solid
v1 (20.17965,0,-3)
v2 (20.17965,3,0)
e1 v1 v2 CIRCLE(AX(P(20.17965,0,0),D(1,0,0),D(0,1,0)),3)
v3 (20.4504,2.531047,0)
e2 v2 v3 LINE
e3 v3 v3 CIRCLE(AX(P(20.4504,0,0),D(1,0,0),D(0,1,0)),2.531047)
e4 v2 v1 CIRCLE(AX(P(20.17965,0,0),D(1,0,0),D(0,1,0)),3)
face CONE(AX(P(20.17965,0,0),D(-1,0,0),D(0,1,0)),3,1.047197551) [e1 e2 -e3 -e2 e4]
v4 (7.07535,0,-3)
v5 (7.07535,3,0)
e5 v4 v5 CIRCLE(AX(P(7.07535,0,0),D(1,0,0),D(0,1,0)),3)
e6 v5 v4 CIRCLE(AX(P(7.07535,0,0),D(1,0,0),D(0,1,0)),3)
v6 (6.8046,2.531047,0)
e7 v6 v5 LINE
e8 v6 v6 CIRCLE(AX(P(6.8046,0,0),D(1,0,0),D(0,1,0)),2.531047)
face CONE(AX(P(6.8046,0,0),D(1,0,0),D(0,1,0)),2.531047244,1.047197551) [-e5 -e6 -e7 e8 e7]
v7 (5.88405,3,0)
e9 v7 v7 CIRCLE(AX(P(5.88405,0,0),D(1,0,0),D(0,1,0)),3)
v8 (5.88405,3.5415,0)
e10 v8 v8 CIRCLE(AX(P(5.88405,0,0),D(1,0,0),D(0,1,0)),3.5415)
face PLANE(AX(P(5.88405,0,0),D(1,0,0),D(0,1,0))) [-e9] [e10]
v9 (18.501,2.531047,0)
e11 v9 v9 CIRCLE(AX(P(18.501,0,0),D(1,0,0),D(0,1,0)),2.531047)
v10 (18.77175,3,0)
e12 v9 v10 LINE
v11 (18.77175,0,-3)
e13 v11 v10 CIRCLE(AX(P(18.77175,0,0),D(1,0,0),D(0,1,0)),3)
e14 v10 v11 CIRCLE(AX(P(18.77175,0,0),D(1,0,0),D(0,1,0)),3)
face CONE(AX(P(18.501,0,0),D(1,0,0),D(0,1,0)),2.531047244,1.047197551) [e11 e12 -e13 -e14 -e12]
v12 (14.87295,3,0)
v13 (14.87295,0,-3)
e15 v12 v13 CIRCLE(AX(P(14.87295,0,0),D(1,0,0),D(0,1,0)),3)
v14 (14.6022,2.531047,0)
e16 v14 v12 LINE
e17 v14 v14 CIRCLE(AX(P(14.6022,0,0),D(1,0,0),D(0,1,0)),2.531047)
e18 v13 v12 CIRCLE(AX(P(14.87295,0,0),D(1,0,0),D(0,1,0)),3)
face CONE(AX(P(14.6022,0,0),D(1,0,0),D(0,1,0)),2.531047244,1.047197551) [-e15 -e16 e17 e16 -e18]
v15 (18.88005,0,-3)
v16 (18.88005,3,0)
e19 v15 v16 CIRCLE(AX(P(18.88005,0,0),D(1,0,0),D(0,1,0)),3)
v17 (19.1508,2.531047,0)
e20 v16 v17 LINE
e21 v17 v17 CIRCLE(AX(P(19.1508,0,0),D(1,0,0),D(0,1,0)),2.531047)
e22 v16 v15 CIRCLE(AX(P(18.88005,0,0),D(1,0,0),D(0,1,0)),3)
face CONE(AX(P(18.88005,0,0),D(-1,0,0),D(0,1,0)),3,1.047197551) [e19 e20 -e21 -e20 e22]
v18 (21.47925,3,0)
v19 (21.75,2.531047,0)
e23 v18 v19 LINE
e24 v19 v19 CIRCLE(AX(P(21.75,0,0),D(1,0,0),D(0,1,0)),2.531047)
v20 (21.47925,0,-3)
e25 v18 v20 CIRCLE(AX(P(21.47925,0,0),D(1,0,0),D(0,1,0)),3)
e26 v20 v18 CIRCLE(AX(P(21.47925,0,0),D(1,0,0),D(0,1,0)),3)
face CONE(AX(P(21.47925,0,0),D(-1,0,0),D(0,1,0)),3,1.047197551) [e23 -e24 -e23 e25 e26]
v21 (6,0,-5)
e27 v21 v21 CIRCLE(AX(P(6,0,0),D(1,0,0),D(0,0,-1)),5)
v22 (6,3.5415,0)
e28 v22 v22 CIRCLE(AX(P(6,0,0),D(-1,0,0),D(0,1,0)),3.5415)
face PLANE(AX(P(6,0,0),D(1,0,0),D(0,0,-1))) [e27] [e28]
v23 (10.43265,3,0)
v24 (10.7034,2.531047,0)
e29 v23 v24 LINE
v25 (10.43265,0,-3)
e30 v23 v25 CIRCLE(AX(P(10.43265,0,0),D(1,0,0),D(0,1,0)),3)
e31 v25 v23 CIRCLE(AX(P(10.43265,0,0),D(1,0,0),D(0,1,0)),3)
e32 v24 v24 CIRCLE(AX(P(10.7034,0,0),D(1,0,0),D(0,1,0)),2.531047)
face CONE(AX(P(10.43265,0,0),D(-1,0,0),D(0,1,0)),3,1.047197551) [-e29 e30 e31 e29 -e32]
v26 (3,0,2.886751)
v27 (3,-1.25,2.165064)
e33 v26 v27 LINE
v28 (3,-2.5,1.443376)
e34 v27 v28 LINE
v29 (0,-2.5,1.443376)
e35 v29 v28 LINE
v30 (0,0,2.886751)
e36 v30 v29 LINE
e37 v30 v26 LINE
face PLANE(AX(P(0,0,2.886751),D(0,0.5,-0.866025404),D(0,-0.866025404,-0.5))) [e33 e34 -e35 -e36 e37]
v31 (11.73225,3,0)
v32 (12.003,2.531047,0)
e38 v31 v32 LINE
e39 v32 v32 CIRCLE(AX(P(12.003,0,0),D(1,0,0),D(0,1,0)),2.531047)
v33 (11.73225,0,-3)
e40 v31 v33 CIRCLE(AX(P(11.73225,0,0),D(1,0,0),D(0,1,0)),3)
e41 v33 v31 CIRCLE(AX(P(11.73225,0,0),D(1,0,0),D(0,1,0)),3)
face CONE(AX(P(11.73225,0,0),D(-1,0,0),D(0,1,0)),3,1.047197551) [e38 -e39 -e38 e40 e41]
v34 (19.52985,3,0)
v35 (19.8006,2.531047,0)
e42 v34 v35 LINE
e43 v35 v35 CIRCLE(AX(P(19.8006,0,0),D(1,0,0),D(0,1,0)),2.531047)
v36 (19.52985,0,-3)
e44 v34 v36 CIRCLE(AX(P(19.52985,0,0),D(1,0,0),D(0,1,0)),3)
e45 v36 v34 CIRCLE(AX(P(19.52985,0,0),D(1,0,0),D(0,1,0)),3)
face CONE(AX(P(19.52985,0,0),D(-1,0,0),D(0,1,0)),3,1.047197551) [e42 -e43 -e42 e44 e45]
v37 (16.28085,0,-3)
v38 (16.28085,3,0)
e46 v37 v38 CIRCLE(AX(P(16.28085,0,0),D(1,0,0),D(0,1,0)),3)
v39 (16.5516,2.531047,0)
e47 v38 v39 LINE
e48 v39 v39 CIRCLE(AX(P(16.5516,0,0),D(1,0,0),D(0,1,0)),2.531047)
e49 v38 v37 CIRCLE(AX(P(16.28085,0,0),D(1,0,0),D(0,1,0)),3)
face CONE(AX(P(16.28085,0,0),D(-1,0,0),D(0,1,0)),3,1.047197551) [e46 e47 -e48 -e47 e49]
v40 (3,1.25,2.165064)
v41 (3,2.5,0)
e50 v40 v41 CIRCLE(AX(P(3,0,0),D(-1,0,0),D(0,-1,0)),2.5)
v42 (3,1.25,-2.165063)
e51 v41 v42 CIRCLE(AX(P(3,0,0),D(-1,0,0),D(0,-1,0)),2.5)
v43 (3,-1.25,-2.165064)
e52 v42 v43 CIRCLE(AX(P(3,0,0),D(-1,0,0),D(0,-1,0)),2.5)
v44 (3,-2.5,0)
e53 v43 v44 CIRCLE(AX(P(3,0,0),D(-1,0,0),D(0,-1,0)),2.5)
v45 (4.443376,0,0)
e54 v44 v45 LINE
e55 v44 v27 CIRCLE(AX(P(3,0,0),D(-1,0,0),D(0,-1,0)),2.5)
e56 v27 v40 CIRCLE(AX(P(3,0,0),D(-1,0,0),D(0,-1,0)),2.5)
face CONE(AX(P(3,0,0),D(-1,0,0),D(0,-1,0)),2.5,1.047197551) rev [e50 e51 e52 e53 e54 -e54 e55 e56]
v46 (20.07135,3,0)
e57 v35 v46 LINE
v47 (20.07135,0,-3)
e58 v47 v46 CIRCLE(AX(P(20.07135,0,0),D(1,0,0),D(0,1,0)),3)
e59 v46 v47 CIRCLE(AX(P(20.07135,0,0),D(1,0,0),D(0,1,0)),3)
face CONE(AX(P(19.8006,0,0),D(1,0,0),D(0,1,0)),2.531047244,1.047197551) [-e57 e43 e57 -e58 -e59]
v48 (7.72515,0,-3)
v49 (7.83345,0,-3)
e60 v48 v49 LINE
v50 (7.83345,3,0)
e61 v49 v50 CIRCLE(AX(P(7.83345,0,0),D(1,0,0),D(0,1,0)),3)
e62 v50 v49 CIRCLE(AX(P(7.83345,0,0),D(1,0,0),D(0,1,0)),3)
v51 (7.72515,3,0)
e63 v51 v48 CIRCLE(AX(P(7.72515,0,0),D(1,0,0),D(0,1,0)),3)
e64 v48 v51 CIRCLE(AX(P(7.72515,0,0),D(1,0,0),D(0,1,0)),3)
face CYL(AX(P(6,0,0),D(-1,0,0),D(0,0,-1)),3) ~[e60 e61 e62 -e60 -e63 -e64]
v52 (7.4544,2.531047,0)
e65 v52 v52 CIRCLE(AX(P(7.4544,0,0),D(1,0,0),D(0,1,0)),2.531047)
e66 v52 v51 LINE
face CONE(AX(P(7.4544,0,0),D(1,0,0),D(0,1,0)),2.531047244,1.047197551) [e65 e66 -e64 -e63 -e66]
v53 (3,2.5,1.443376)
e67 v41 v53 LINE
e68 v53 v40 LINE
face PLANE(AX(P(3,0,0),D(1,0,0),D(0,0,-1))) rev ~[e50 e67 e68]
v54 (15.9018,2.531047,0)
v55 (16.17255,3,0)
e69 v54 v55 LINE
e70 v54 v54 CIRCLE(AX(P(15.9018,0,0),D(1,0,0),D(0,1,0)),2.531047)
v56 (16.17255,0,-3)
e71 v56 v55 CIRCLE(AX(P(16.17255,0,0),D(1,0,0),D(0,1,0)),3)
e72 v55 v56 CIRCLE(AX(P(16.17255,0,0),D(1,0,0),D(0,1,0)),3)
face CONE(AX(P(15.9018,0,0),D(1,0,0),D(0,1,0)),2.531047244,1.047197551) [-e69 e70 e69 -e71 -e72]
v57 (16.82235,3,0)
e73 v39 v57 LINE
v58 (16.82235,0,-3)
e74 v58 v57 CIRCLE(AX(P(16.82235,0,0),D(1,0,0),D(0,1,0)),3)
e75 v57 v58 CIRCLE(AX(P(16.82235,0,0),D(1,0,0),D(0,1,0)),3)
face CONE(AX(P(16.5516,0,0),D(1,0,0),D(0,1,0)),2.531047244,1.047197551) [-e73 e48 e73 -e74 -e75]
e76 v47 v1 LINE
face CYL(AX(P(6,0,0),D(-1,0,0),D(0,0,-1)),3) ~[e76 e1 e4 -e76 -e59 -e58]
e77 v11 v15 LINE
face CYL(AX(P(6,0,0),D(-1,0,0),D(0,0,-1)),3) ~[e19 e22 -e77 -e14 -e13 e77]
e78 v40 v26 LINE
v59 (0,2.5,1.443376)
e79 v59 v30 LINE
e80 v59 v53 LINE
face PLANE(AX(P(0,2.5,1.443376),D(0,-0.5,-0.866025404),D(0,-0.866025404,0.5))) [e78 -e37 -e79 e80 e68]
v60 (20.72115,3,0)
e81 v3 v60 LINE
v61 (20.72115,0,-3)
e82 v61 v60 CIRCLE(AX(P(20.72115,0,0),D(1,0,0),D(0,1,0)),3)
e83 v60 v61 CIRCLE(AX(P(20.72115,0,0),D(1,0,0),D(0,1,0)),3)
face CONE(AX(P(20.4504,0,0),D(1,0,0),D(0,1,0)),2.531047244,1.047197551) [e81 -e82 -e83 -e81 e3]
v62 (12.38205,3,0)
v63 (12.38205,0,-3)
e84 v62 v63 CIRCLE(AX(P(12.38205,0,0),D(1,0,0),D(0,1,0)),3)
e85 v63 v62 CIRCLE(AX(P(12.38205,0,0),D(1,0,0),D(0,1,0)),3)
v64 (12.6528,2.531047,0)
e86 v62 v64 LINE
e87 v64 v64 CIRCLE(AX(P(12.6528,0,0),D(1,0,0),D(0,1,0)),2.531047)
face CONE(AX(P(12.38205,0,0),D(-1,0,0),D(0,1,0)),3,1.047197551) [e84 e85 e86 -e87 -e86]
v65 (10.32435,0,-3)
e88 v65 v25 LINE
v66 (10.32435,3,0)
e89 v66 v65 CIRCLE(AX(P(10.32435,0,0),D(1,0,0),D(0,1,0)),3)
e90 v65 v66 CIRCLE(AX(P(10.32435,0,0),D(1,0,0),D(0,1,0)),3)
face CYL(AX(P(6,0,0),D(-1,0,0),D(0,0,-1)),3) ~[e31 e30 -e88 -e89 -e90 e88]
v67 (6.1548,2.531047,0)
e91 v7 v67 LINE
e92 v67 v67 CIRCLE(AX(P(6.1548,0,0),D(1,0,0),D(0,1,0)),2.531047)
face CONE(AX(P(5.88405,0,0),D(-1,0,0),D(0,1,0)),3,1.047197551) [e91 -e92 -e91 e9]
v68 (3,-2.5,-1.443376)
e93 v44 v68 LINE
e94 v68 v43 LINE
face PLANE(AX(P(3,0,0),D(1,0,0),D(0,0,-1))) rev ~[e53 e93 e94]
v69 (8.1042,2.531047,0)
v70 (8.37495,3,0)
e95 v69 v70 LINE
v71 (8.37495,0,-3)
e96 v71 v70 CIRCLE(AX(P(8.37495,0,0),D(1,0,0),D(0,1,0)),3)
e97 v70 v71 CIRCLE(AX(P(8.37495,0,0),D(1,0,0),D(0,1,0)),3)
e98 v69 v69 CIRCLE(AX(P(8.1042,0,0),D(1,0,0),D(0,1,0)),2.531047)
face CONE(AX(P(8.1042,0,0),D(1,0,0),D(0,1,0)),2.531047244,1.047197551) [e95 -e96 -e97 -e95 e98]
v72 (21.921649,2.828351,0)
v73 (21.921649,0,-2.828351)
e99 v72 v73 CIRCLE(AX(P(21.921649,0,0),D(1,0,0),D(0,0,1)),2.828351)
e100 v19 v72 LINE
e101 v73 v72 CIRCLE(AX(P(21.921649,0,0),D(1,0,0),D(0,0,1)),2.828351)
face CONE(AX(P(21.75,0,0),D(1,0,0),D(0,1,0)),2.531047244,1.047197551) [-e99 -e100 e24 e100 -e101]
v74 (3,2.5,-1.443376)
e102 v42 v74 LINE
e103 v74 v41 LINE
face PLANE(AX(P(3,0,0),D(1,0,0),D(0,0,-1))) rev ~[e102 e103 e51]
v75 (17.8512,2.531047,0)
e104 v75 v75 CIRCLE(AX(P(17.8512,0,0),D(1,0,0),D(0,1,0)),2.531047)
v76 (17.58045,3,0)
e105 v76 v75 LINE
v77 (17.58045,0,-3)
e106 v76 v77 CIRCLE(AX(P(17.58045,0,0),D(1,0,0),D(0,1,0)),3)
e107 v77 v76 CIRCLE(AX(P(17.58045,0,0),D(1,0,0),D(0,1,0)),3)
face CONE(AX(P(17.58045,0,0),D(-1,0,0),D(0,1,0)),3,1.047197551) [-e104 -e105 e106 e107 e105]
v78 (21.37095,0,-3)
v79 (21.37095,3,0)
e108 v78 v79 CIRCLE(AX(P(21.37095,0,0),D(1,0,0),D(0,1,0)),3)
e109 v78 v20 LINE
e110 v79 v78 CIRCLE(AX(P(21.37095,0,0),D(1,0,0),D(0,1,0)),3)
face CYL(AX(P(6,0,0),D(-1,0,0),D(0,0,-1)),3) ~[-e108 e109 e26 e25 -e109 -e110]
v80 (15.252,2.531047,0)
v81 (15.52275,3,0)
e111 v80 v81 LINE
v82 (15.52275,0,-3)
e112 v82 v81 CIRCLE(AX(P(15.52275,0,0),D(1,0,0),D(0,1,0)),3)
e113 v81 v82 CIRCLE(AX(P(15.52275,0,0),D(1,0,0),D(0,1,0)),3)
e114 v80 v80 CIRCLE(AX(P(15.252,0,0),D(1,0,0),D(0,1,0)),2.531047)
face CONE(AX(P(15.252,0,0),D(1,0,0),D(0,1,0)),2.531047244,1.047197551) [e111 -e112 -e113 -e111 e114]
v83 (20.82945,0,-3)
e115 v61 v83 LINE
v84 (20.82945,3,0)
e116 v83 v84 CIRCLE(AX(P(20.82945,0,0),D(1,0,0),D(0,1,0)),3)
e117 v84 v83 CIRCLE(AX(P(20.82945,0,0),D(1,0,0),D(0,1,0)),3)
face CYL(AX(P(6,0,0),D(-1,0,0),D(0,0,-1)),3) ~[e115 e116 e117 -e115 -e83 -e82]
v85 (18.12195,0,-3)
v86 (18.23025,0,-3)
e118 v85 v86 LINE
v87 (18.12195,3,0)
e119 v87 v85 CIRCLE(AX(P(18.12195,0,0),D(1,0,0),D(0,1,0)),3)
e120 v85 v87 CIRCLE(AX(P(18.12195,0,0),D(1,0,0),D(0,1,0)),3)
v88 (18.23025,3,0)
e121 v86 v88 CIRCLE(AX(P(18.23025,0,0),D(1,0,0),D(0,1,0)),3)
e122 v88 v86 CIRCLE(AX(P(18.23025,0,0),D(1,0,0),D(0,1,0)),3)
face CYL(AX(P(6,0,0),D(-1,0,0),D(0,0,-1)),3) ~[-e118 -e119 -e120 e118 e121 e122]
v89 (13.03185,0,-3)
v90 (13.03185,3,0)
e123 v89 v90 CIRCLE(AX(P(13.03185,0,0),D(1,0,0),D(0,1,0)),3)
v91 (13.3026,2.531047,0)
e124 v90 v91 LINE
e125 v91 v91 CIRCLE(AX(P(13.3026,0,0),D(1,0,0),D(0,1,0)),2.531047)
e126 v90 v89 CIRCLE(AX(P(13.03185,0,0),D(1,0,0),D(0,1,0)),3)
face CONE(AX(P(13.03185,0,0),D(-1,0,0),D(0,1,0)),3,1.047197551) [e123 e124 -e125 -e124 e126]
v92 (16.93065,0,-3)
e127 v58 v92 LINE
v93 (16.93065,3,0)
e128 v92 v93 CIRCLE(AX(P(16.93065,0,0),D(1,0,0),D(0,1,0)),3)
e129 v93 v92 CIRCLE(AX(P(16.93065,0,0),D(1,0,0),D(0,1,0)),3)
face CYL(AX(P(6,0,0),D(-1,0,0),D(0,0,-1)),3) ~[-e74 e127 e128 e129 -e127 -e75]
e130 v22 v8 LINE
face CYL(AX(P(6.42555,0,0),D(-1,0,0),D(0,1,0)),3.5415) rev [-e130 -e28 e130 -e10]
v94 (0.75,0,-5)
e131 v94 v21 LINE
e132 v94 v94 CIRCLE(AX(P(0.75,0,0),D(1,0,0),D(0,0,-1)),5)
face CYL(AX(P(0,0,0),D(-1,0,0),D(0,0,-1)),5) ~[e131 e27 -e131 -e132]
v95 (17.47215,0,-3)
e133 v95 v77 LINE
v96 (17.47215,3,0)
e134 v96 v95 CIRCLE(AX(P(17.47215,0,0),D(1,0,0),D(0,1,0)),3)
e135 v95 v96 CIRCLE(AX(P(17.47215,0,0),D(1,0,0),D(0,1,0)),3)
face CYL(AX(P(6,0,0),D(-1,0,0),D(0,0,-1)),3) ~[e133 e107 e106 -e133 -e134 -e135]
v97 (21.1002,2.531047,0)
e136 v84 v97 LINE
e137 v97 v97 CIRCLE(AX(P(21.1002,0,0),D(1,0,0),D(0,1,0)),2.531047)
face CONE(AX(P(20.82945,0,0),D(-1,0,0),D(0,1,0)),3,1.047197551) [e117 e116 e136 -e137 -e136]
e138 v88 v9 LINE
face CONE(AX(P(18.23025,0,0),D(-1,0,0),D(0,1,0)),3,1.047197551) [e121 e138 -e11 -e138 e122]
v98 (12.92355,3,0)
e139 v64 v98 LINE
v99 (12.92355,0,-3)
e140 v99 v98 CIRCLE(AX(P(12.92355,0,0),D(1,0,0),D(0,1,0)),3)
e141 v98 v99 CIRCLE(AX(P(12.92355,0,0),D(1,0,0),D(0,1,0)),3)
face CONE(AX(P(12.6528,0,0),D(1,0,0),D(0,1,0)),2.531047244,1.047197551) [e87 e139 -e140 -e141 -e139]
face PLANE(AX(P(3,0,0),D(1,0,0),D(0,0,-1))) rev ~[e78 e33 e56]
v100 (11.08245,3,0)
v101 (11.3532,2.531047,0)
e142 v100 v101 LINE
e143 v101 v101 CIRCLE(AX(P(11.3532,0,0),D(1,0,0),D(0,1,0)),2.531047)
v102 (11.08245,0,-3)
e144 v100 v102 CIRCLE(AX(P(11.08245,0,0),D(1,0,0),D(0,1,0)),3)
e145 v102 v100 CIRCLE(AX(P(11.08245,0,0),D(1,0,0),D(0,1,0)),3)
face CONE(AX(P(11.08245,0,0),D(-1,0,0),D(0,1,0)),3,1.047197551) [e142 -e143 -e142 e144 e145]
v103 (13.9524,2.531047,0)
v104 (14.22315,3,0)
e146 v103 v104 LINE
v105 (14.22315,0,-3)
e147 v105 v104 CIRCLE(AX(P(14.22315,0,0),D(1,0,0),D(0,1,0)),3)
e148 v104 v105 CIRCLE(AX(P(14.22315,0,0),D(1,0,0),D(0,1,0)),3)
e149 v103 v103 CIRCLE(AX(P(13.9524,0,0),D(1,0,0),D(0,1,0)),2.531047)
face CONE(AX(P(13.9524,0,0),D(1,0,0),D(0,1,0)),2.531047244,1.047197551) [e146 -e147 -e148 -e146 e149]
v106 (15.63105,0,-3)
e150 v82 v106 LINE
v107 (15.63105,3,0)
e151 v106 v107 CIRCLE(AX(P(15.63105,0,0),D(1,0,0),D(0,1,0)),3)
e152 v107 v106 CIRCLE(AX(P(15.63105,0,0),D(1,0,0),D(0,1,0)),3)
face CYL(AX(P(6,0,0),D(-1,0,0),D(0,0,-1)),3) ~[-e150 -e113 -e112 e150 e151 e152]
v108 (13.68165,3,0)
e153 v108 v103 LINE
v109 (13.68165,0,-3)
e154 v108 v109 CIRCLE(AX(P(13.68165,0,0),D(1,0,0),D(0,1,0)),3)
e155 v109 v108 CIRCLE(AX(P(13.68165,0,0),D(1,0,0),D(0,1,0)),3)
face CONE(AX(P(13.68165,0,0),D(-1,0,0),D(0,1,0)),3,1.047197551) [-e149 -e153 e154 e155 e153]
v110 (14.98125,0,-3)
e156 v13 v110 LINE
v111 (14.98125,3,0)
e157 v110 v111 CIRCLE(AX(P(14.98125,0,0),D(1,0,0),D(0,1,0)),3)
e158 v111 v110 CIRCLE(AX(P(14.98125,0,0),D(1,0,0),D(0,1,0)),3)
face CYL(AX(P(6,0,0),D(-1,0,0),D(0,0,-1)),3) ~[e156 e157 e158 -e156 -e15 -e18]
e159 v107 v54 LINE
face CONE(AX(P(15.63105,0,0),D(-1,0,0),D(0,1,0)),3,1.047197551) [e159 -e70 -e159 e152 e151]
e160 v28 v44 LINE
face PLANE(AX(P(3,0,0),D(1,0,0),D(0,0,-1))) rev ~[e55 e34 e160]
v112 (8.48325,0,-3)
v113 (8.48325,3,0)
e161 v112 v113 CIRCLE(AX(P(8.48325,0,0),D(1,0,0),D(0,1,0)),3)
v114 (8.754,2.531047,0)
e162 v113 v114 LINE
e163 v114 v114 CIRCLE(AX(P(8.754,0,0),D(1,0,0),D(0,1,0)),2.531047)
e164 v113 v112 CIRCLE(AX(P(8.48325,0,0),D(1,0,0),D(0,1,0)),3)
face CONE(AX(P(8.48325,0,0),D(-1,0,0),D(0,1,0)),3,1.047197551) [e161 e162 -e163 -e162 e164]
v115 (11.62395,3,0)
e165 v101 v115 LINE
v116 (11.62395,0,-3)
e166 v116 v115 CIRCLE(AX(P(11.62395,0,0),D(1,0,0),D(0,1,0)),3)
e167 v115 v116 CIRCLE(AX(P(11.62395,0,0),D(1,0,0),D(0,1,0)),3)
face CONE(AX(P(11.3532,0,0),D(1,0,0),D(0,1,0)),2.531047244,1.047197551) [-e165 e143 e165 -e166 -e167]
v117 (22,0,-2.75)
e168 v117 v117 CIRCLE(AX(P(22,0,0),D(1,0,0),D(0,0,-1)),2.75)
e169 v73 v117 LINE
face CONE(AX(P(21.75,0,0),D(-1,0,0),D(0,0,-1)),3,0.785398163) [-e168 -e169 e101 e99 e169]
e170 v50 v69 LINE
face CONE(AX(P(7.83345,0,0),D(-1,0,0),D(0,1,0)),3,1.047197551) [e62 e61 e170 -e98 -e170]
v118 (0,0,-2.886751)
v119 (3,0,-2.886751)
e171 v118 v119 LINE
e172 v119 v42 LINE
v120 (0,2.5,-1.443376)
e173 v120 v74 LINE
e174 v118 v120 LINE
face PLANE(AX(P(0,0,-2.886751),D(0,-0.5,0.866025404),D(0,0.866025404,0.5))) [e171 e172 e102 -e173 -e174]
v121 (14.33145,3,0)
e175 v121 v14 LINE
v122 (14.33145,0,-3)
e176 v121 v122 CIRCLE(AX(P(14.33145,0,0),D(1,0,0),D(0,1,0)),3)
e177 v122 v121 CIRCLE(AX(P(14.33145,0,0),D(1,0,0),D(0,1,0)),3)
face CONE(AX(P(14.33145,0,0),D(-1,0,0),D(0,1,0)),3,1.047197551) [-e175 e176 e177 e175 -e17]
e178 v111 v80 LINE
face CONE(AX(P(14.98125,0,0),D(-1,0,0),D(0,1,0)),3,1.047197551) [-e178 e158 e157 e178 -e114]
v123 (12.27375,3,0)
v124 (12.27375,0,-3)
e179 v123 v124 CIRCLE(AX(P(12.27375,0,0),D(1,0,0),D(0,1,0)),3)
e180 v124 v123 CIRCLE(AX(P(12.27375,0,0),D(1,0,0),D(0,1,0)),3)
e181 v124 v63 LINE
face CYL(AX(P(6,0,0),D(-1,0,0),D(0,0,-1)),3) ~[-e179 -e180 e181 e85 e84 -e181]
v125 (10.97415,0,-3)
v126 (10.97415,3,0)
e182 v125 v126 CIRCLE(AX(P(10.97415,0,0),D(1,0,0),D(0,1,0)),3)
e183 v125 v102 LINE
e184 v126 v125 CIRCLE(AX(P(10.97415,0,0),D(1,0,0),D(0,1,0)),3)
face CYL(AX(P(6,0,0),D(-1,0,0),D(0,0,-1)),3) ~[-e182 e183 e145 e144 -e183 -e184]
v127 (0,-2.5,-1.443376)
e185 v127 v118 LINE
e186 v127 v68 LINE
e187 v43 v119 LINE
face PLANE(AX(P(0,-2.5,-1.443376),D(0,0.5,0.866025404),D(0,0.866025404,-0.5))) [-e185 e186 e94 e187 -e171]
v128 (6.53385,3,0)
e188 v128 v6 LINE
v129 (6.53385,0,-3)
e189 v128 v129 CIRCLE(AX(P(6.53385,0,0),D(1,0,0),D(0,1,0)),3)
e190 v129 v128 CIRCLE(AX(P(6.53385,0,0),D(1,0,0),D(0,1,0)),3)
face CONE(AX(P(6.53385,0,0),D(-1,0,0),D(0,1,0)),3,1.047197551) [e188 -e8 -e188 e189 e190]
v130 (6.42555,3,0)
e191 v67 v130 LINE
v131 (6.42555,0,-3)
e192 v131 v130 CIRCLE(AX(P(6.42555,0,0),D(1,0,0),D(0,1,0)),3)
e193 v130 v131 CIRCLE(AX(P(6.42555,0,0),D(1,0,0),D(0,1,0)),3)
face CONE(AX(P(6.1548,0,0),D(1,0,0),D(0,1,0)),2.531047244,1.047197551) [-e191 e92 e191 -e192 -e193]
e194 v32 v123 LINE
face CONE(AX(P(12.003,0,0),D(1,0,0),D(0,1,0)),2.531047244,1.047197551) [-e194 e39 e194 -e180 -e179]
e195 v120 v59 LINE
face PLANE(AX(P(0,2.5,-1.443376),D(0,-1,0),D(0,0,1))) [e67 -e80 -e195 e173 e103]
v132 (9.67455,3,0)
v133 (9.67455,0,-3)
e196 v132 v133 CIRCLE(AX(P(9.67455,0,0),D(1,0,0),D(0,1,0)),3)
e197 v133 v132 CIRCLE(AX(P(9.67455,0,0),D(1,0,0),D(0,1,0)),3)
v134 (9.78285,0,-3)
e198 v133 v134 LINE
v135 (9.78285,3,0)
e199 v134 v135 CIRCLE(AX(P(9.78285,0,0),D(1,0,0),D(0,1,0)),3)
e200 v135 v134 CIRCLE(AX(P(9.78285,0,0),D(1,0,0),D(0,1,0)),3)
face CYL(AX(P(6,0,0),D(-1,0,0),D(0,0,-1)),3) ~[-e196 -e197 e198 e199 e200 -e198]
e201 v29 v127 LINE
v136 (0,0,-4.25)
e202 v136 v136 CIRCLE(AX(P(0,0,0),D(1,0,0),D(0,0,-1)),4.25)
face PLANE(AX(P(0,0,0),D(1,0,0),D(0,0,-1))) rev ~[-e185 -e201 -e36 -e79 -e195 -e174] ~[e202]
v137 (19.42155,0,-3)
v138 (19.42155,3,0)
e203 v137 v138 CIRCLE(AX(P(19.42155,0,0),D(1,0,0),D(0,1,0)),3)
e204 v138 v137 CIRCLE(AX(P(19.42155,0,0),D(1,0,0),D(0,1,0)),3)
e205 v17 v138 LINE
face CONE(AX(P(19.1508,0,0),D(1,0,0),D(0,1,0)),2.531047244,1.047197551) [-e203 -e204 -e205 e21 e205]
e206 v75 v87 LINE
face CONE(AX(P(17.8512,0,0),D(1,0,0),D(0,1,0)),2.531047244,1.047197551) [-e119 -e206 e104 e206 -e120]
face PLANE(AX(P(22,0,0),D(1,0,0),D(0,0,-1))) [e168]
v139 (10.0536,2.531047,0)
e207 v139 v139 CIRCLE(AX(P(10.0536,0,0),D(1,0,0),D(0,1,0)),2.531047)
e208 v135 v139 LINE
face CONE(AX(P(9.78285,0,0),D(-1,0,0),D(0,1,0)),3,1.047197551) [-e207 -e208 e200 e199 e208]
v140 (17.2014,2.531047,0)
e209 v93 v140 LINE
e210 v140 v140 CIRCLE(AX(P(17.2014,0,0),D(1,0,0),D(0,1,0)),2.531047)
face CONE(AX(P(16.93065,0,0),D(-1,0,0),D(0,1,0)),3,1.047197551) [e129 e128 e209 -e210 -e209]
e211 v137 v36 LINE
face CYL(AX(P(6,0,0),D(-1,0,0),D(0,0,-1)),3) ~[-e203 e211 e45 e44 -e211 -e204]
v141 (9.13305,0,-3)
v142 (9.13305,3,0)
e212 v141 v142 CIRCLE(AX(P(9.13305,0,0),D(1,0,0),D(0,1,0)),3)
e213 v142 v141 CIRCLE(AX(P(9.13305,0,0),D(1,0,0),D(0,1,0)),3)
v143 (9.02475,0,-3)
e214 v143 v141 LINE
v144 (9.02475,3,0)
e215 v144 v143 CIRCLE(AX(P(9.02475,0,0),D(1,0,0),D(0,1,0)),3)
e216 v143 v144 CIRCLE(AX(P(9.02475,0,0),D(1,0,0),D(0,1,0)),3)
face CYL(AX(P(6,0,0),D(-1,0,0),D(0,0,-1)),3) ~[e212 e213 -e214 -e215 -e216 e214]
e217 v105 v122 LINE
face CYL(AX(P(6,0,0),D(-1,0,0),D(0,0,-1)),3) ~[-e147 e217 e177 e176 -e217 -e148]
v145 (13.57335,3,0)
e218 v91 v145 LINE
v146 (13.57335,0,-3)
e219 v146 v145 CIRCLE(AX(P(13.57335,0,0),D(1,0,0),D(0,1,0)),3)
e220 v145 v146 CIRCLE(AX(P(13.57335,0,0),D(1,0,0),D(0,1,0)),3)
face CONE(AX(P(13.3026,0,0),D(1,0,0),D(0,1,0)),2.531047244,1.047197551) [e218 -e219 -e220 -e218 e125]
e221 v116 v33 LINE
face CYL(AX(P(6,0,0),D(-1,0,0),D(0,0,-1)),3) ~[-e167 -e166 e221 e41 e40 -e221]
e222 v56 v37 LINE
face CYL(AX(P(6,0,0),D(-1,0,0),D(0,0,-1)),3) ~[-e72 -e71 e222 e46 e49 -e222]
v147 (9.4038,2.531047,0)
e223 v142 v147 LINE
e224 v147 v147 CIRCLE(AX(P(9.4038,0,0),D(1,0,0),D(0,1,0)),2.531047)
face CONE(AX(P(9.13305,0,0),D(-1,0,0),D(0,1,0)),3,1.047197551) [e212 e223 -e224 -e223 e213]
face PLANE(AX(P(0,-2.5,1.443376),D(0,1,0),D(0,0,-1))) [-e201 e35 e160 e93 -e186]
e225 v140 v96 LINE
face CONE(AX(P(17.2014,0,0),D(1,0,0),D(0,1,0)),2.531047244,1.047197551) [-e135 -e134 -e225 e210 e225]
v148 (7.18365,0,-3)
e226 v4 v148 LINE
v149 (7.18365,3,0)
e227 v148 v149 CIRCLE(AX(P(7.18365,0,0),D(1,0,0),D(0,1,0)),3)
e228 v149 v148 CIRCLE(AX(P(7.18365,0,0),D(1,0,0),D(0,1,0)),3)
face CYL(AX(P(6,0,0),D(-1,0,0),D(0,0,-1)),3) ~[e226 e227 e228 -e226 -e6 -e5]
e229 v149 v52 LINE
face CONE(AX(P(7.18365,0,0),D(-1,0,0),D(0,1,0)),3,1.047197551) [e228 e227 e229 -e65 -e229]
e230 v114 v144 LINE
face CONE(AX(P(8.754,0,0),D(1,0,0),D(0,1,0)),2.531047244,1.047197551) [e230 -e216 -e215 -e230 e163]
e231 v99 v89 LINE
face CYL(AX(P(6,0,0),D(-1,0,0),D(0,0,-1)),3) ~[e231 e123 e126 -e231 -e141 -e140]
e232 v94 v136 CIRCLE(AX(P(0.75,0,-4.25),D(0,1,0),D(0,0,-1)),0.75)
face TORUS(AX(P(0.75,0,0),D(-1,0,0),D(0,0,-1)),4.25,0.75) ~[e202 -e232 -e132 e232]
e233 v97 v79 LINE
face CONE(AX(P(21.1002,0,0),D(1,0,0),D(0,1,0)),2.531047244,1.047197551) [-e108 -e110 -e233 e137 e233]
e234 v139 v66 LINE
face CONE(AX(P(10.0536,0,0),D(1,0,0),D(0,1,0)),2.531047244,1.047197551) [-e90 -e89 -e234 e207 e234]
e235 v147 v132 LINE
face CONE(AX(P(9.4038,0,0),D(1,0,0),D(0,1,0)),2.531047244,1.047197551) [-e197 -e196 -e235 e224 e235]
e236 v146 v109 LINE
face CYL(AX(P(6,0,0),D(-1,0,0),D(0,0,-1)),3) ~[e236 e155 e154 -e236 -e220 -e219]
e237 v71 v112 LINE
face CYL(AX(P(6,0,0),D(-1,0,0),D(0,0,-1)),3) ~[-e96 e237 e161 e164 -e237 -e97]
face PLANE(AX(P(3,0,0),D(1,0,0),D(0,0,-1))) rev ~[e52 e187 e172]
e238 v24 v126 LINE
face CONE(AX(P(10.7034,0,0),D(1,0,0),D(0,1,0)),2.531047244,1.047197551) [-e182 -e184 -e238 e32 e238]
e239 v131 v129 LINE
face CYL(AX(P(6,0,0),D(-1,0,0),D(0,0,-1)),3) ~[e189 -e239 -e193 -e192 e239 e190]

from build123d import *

# Parameters (mm, degrees)
SKETCH1_R           = 5
BASEHEAD_DEPTH      = 6
SKETCH2_R           = 3
BASEBODY_DEPTH      = 16
HEXAGONSOCKET_DEPTH = 3
TOPFILLET_R         = 0.75
CHAMFER1_SIZE       = 0.25
LPATTERN10_COUNT    = 25
LPATTERN10_PITCH    = 0.6498


with BuildPart() as part:
    # Sketch1 → BaseHead (new body)
    with BuildSketch(Plane(origin=(0, 0, 0), x_dir=(0, 0, -1), z_dir=(1, 0, 0))):
        Circle(SKETCH1_R)
    extrude(amount=BASEHEAD_DEPTH)

    # Sketch2 → BaseBody (add)
    with BuildSketch(Plane(origin=(6, 0, 0), x_dir=(0, 0, -1), z_dir=(1, 0, 0))):
        Circle(SKETCH2_R)
    extrude(amount=BASEBODY_DEPTH)

    # Sketch3 → HexagonSocket (cut)
    with BuildSketch(Plane(origin=(0, 0, 0), x_dir=(0, 0, -1), z_dir=(1, 0, 0))):
        Polygon((2.886751346, 0), (1.443375673, 2.5), (-1.443375673, 2.5), (-2.886751346, 0), (-1.443375673, -2.5), (1.443375673, -2.5), align=None)
    extrude(amount=HEXAGONSOCKET_DEPTH, mode=Mode.SUBTRACT)

    # Sketch4 → Cut-Revolve1 (revolve, cut)
    with BuildSketch(Plane(origin=(-4.19613823, 0.75, 0), x_dir=(-1, 0, 0), z_dir=(0, 0, 1))):
        Polygon((-7.19613823, 3.25), (-8.639513903, 0.75), (-7.19613823, 0.75), align=None)
    revolve(axis=Axis((0.838992387, 0, 0), (-1, 0, 0)), mode=Mode.SUBTRACT)

    # TopFillet
    topfillet_edges = [part.edges().sort_by_distance(p)[0] for p in [
        (0, 0, 5),
    ]]
    fillet(topfillet_edges, radius=TOPFILLET_R)

    # Chamfer1
    chamfer1_edges = [part.edges().sort_by_distance(p)[0] for p in [
        (22, 0, 3),
    ]]
    chamfer(chamfer1_edges, length=CHAMFER1_SIZE)

    # Sketch5 → Cut-Revolve10 (revolve, cut)
    with BuildSketch(Plane.XY):
        Polygon((21.75, 2.531047244), (22.02075, 3), (22.02075, 3.5415), (21.47925, 3.5415), (21.47925, 3), align=None)
    cut_revolve10 = revolve(axis=Axis((0, 0, 0), (1, 0, 0)), mode=Mode.SUBTRACT)

    # LPattern10: Cut-Revolve10 ×25
    with Locations(*[(-i * LPATTERN10_PITCH, 0, 0) for i in range(1, LPATTERN10_COUNT)]):
        add(cut_revolve10, mode=Mode.SUBTRACT)


solid = part.part
